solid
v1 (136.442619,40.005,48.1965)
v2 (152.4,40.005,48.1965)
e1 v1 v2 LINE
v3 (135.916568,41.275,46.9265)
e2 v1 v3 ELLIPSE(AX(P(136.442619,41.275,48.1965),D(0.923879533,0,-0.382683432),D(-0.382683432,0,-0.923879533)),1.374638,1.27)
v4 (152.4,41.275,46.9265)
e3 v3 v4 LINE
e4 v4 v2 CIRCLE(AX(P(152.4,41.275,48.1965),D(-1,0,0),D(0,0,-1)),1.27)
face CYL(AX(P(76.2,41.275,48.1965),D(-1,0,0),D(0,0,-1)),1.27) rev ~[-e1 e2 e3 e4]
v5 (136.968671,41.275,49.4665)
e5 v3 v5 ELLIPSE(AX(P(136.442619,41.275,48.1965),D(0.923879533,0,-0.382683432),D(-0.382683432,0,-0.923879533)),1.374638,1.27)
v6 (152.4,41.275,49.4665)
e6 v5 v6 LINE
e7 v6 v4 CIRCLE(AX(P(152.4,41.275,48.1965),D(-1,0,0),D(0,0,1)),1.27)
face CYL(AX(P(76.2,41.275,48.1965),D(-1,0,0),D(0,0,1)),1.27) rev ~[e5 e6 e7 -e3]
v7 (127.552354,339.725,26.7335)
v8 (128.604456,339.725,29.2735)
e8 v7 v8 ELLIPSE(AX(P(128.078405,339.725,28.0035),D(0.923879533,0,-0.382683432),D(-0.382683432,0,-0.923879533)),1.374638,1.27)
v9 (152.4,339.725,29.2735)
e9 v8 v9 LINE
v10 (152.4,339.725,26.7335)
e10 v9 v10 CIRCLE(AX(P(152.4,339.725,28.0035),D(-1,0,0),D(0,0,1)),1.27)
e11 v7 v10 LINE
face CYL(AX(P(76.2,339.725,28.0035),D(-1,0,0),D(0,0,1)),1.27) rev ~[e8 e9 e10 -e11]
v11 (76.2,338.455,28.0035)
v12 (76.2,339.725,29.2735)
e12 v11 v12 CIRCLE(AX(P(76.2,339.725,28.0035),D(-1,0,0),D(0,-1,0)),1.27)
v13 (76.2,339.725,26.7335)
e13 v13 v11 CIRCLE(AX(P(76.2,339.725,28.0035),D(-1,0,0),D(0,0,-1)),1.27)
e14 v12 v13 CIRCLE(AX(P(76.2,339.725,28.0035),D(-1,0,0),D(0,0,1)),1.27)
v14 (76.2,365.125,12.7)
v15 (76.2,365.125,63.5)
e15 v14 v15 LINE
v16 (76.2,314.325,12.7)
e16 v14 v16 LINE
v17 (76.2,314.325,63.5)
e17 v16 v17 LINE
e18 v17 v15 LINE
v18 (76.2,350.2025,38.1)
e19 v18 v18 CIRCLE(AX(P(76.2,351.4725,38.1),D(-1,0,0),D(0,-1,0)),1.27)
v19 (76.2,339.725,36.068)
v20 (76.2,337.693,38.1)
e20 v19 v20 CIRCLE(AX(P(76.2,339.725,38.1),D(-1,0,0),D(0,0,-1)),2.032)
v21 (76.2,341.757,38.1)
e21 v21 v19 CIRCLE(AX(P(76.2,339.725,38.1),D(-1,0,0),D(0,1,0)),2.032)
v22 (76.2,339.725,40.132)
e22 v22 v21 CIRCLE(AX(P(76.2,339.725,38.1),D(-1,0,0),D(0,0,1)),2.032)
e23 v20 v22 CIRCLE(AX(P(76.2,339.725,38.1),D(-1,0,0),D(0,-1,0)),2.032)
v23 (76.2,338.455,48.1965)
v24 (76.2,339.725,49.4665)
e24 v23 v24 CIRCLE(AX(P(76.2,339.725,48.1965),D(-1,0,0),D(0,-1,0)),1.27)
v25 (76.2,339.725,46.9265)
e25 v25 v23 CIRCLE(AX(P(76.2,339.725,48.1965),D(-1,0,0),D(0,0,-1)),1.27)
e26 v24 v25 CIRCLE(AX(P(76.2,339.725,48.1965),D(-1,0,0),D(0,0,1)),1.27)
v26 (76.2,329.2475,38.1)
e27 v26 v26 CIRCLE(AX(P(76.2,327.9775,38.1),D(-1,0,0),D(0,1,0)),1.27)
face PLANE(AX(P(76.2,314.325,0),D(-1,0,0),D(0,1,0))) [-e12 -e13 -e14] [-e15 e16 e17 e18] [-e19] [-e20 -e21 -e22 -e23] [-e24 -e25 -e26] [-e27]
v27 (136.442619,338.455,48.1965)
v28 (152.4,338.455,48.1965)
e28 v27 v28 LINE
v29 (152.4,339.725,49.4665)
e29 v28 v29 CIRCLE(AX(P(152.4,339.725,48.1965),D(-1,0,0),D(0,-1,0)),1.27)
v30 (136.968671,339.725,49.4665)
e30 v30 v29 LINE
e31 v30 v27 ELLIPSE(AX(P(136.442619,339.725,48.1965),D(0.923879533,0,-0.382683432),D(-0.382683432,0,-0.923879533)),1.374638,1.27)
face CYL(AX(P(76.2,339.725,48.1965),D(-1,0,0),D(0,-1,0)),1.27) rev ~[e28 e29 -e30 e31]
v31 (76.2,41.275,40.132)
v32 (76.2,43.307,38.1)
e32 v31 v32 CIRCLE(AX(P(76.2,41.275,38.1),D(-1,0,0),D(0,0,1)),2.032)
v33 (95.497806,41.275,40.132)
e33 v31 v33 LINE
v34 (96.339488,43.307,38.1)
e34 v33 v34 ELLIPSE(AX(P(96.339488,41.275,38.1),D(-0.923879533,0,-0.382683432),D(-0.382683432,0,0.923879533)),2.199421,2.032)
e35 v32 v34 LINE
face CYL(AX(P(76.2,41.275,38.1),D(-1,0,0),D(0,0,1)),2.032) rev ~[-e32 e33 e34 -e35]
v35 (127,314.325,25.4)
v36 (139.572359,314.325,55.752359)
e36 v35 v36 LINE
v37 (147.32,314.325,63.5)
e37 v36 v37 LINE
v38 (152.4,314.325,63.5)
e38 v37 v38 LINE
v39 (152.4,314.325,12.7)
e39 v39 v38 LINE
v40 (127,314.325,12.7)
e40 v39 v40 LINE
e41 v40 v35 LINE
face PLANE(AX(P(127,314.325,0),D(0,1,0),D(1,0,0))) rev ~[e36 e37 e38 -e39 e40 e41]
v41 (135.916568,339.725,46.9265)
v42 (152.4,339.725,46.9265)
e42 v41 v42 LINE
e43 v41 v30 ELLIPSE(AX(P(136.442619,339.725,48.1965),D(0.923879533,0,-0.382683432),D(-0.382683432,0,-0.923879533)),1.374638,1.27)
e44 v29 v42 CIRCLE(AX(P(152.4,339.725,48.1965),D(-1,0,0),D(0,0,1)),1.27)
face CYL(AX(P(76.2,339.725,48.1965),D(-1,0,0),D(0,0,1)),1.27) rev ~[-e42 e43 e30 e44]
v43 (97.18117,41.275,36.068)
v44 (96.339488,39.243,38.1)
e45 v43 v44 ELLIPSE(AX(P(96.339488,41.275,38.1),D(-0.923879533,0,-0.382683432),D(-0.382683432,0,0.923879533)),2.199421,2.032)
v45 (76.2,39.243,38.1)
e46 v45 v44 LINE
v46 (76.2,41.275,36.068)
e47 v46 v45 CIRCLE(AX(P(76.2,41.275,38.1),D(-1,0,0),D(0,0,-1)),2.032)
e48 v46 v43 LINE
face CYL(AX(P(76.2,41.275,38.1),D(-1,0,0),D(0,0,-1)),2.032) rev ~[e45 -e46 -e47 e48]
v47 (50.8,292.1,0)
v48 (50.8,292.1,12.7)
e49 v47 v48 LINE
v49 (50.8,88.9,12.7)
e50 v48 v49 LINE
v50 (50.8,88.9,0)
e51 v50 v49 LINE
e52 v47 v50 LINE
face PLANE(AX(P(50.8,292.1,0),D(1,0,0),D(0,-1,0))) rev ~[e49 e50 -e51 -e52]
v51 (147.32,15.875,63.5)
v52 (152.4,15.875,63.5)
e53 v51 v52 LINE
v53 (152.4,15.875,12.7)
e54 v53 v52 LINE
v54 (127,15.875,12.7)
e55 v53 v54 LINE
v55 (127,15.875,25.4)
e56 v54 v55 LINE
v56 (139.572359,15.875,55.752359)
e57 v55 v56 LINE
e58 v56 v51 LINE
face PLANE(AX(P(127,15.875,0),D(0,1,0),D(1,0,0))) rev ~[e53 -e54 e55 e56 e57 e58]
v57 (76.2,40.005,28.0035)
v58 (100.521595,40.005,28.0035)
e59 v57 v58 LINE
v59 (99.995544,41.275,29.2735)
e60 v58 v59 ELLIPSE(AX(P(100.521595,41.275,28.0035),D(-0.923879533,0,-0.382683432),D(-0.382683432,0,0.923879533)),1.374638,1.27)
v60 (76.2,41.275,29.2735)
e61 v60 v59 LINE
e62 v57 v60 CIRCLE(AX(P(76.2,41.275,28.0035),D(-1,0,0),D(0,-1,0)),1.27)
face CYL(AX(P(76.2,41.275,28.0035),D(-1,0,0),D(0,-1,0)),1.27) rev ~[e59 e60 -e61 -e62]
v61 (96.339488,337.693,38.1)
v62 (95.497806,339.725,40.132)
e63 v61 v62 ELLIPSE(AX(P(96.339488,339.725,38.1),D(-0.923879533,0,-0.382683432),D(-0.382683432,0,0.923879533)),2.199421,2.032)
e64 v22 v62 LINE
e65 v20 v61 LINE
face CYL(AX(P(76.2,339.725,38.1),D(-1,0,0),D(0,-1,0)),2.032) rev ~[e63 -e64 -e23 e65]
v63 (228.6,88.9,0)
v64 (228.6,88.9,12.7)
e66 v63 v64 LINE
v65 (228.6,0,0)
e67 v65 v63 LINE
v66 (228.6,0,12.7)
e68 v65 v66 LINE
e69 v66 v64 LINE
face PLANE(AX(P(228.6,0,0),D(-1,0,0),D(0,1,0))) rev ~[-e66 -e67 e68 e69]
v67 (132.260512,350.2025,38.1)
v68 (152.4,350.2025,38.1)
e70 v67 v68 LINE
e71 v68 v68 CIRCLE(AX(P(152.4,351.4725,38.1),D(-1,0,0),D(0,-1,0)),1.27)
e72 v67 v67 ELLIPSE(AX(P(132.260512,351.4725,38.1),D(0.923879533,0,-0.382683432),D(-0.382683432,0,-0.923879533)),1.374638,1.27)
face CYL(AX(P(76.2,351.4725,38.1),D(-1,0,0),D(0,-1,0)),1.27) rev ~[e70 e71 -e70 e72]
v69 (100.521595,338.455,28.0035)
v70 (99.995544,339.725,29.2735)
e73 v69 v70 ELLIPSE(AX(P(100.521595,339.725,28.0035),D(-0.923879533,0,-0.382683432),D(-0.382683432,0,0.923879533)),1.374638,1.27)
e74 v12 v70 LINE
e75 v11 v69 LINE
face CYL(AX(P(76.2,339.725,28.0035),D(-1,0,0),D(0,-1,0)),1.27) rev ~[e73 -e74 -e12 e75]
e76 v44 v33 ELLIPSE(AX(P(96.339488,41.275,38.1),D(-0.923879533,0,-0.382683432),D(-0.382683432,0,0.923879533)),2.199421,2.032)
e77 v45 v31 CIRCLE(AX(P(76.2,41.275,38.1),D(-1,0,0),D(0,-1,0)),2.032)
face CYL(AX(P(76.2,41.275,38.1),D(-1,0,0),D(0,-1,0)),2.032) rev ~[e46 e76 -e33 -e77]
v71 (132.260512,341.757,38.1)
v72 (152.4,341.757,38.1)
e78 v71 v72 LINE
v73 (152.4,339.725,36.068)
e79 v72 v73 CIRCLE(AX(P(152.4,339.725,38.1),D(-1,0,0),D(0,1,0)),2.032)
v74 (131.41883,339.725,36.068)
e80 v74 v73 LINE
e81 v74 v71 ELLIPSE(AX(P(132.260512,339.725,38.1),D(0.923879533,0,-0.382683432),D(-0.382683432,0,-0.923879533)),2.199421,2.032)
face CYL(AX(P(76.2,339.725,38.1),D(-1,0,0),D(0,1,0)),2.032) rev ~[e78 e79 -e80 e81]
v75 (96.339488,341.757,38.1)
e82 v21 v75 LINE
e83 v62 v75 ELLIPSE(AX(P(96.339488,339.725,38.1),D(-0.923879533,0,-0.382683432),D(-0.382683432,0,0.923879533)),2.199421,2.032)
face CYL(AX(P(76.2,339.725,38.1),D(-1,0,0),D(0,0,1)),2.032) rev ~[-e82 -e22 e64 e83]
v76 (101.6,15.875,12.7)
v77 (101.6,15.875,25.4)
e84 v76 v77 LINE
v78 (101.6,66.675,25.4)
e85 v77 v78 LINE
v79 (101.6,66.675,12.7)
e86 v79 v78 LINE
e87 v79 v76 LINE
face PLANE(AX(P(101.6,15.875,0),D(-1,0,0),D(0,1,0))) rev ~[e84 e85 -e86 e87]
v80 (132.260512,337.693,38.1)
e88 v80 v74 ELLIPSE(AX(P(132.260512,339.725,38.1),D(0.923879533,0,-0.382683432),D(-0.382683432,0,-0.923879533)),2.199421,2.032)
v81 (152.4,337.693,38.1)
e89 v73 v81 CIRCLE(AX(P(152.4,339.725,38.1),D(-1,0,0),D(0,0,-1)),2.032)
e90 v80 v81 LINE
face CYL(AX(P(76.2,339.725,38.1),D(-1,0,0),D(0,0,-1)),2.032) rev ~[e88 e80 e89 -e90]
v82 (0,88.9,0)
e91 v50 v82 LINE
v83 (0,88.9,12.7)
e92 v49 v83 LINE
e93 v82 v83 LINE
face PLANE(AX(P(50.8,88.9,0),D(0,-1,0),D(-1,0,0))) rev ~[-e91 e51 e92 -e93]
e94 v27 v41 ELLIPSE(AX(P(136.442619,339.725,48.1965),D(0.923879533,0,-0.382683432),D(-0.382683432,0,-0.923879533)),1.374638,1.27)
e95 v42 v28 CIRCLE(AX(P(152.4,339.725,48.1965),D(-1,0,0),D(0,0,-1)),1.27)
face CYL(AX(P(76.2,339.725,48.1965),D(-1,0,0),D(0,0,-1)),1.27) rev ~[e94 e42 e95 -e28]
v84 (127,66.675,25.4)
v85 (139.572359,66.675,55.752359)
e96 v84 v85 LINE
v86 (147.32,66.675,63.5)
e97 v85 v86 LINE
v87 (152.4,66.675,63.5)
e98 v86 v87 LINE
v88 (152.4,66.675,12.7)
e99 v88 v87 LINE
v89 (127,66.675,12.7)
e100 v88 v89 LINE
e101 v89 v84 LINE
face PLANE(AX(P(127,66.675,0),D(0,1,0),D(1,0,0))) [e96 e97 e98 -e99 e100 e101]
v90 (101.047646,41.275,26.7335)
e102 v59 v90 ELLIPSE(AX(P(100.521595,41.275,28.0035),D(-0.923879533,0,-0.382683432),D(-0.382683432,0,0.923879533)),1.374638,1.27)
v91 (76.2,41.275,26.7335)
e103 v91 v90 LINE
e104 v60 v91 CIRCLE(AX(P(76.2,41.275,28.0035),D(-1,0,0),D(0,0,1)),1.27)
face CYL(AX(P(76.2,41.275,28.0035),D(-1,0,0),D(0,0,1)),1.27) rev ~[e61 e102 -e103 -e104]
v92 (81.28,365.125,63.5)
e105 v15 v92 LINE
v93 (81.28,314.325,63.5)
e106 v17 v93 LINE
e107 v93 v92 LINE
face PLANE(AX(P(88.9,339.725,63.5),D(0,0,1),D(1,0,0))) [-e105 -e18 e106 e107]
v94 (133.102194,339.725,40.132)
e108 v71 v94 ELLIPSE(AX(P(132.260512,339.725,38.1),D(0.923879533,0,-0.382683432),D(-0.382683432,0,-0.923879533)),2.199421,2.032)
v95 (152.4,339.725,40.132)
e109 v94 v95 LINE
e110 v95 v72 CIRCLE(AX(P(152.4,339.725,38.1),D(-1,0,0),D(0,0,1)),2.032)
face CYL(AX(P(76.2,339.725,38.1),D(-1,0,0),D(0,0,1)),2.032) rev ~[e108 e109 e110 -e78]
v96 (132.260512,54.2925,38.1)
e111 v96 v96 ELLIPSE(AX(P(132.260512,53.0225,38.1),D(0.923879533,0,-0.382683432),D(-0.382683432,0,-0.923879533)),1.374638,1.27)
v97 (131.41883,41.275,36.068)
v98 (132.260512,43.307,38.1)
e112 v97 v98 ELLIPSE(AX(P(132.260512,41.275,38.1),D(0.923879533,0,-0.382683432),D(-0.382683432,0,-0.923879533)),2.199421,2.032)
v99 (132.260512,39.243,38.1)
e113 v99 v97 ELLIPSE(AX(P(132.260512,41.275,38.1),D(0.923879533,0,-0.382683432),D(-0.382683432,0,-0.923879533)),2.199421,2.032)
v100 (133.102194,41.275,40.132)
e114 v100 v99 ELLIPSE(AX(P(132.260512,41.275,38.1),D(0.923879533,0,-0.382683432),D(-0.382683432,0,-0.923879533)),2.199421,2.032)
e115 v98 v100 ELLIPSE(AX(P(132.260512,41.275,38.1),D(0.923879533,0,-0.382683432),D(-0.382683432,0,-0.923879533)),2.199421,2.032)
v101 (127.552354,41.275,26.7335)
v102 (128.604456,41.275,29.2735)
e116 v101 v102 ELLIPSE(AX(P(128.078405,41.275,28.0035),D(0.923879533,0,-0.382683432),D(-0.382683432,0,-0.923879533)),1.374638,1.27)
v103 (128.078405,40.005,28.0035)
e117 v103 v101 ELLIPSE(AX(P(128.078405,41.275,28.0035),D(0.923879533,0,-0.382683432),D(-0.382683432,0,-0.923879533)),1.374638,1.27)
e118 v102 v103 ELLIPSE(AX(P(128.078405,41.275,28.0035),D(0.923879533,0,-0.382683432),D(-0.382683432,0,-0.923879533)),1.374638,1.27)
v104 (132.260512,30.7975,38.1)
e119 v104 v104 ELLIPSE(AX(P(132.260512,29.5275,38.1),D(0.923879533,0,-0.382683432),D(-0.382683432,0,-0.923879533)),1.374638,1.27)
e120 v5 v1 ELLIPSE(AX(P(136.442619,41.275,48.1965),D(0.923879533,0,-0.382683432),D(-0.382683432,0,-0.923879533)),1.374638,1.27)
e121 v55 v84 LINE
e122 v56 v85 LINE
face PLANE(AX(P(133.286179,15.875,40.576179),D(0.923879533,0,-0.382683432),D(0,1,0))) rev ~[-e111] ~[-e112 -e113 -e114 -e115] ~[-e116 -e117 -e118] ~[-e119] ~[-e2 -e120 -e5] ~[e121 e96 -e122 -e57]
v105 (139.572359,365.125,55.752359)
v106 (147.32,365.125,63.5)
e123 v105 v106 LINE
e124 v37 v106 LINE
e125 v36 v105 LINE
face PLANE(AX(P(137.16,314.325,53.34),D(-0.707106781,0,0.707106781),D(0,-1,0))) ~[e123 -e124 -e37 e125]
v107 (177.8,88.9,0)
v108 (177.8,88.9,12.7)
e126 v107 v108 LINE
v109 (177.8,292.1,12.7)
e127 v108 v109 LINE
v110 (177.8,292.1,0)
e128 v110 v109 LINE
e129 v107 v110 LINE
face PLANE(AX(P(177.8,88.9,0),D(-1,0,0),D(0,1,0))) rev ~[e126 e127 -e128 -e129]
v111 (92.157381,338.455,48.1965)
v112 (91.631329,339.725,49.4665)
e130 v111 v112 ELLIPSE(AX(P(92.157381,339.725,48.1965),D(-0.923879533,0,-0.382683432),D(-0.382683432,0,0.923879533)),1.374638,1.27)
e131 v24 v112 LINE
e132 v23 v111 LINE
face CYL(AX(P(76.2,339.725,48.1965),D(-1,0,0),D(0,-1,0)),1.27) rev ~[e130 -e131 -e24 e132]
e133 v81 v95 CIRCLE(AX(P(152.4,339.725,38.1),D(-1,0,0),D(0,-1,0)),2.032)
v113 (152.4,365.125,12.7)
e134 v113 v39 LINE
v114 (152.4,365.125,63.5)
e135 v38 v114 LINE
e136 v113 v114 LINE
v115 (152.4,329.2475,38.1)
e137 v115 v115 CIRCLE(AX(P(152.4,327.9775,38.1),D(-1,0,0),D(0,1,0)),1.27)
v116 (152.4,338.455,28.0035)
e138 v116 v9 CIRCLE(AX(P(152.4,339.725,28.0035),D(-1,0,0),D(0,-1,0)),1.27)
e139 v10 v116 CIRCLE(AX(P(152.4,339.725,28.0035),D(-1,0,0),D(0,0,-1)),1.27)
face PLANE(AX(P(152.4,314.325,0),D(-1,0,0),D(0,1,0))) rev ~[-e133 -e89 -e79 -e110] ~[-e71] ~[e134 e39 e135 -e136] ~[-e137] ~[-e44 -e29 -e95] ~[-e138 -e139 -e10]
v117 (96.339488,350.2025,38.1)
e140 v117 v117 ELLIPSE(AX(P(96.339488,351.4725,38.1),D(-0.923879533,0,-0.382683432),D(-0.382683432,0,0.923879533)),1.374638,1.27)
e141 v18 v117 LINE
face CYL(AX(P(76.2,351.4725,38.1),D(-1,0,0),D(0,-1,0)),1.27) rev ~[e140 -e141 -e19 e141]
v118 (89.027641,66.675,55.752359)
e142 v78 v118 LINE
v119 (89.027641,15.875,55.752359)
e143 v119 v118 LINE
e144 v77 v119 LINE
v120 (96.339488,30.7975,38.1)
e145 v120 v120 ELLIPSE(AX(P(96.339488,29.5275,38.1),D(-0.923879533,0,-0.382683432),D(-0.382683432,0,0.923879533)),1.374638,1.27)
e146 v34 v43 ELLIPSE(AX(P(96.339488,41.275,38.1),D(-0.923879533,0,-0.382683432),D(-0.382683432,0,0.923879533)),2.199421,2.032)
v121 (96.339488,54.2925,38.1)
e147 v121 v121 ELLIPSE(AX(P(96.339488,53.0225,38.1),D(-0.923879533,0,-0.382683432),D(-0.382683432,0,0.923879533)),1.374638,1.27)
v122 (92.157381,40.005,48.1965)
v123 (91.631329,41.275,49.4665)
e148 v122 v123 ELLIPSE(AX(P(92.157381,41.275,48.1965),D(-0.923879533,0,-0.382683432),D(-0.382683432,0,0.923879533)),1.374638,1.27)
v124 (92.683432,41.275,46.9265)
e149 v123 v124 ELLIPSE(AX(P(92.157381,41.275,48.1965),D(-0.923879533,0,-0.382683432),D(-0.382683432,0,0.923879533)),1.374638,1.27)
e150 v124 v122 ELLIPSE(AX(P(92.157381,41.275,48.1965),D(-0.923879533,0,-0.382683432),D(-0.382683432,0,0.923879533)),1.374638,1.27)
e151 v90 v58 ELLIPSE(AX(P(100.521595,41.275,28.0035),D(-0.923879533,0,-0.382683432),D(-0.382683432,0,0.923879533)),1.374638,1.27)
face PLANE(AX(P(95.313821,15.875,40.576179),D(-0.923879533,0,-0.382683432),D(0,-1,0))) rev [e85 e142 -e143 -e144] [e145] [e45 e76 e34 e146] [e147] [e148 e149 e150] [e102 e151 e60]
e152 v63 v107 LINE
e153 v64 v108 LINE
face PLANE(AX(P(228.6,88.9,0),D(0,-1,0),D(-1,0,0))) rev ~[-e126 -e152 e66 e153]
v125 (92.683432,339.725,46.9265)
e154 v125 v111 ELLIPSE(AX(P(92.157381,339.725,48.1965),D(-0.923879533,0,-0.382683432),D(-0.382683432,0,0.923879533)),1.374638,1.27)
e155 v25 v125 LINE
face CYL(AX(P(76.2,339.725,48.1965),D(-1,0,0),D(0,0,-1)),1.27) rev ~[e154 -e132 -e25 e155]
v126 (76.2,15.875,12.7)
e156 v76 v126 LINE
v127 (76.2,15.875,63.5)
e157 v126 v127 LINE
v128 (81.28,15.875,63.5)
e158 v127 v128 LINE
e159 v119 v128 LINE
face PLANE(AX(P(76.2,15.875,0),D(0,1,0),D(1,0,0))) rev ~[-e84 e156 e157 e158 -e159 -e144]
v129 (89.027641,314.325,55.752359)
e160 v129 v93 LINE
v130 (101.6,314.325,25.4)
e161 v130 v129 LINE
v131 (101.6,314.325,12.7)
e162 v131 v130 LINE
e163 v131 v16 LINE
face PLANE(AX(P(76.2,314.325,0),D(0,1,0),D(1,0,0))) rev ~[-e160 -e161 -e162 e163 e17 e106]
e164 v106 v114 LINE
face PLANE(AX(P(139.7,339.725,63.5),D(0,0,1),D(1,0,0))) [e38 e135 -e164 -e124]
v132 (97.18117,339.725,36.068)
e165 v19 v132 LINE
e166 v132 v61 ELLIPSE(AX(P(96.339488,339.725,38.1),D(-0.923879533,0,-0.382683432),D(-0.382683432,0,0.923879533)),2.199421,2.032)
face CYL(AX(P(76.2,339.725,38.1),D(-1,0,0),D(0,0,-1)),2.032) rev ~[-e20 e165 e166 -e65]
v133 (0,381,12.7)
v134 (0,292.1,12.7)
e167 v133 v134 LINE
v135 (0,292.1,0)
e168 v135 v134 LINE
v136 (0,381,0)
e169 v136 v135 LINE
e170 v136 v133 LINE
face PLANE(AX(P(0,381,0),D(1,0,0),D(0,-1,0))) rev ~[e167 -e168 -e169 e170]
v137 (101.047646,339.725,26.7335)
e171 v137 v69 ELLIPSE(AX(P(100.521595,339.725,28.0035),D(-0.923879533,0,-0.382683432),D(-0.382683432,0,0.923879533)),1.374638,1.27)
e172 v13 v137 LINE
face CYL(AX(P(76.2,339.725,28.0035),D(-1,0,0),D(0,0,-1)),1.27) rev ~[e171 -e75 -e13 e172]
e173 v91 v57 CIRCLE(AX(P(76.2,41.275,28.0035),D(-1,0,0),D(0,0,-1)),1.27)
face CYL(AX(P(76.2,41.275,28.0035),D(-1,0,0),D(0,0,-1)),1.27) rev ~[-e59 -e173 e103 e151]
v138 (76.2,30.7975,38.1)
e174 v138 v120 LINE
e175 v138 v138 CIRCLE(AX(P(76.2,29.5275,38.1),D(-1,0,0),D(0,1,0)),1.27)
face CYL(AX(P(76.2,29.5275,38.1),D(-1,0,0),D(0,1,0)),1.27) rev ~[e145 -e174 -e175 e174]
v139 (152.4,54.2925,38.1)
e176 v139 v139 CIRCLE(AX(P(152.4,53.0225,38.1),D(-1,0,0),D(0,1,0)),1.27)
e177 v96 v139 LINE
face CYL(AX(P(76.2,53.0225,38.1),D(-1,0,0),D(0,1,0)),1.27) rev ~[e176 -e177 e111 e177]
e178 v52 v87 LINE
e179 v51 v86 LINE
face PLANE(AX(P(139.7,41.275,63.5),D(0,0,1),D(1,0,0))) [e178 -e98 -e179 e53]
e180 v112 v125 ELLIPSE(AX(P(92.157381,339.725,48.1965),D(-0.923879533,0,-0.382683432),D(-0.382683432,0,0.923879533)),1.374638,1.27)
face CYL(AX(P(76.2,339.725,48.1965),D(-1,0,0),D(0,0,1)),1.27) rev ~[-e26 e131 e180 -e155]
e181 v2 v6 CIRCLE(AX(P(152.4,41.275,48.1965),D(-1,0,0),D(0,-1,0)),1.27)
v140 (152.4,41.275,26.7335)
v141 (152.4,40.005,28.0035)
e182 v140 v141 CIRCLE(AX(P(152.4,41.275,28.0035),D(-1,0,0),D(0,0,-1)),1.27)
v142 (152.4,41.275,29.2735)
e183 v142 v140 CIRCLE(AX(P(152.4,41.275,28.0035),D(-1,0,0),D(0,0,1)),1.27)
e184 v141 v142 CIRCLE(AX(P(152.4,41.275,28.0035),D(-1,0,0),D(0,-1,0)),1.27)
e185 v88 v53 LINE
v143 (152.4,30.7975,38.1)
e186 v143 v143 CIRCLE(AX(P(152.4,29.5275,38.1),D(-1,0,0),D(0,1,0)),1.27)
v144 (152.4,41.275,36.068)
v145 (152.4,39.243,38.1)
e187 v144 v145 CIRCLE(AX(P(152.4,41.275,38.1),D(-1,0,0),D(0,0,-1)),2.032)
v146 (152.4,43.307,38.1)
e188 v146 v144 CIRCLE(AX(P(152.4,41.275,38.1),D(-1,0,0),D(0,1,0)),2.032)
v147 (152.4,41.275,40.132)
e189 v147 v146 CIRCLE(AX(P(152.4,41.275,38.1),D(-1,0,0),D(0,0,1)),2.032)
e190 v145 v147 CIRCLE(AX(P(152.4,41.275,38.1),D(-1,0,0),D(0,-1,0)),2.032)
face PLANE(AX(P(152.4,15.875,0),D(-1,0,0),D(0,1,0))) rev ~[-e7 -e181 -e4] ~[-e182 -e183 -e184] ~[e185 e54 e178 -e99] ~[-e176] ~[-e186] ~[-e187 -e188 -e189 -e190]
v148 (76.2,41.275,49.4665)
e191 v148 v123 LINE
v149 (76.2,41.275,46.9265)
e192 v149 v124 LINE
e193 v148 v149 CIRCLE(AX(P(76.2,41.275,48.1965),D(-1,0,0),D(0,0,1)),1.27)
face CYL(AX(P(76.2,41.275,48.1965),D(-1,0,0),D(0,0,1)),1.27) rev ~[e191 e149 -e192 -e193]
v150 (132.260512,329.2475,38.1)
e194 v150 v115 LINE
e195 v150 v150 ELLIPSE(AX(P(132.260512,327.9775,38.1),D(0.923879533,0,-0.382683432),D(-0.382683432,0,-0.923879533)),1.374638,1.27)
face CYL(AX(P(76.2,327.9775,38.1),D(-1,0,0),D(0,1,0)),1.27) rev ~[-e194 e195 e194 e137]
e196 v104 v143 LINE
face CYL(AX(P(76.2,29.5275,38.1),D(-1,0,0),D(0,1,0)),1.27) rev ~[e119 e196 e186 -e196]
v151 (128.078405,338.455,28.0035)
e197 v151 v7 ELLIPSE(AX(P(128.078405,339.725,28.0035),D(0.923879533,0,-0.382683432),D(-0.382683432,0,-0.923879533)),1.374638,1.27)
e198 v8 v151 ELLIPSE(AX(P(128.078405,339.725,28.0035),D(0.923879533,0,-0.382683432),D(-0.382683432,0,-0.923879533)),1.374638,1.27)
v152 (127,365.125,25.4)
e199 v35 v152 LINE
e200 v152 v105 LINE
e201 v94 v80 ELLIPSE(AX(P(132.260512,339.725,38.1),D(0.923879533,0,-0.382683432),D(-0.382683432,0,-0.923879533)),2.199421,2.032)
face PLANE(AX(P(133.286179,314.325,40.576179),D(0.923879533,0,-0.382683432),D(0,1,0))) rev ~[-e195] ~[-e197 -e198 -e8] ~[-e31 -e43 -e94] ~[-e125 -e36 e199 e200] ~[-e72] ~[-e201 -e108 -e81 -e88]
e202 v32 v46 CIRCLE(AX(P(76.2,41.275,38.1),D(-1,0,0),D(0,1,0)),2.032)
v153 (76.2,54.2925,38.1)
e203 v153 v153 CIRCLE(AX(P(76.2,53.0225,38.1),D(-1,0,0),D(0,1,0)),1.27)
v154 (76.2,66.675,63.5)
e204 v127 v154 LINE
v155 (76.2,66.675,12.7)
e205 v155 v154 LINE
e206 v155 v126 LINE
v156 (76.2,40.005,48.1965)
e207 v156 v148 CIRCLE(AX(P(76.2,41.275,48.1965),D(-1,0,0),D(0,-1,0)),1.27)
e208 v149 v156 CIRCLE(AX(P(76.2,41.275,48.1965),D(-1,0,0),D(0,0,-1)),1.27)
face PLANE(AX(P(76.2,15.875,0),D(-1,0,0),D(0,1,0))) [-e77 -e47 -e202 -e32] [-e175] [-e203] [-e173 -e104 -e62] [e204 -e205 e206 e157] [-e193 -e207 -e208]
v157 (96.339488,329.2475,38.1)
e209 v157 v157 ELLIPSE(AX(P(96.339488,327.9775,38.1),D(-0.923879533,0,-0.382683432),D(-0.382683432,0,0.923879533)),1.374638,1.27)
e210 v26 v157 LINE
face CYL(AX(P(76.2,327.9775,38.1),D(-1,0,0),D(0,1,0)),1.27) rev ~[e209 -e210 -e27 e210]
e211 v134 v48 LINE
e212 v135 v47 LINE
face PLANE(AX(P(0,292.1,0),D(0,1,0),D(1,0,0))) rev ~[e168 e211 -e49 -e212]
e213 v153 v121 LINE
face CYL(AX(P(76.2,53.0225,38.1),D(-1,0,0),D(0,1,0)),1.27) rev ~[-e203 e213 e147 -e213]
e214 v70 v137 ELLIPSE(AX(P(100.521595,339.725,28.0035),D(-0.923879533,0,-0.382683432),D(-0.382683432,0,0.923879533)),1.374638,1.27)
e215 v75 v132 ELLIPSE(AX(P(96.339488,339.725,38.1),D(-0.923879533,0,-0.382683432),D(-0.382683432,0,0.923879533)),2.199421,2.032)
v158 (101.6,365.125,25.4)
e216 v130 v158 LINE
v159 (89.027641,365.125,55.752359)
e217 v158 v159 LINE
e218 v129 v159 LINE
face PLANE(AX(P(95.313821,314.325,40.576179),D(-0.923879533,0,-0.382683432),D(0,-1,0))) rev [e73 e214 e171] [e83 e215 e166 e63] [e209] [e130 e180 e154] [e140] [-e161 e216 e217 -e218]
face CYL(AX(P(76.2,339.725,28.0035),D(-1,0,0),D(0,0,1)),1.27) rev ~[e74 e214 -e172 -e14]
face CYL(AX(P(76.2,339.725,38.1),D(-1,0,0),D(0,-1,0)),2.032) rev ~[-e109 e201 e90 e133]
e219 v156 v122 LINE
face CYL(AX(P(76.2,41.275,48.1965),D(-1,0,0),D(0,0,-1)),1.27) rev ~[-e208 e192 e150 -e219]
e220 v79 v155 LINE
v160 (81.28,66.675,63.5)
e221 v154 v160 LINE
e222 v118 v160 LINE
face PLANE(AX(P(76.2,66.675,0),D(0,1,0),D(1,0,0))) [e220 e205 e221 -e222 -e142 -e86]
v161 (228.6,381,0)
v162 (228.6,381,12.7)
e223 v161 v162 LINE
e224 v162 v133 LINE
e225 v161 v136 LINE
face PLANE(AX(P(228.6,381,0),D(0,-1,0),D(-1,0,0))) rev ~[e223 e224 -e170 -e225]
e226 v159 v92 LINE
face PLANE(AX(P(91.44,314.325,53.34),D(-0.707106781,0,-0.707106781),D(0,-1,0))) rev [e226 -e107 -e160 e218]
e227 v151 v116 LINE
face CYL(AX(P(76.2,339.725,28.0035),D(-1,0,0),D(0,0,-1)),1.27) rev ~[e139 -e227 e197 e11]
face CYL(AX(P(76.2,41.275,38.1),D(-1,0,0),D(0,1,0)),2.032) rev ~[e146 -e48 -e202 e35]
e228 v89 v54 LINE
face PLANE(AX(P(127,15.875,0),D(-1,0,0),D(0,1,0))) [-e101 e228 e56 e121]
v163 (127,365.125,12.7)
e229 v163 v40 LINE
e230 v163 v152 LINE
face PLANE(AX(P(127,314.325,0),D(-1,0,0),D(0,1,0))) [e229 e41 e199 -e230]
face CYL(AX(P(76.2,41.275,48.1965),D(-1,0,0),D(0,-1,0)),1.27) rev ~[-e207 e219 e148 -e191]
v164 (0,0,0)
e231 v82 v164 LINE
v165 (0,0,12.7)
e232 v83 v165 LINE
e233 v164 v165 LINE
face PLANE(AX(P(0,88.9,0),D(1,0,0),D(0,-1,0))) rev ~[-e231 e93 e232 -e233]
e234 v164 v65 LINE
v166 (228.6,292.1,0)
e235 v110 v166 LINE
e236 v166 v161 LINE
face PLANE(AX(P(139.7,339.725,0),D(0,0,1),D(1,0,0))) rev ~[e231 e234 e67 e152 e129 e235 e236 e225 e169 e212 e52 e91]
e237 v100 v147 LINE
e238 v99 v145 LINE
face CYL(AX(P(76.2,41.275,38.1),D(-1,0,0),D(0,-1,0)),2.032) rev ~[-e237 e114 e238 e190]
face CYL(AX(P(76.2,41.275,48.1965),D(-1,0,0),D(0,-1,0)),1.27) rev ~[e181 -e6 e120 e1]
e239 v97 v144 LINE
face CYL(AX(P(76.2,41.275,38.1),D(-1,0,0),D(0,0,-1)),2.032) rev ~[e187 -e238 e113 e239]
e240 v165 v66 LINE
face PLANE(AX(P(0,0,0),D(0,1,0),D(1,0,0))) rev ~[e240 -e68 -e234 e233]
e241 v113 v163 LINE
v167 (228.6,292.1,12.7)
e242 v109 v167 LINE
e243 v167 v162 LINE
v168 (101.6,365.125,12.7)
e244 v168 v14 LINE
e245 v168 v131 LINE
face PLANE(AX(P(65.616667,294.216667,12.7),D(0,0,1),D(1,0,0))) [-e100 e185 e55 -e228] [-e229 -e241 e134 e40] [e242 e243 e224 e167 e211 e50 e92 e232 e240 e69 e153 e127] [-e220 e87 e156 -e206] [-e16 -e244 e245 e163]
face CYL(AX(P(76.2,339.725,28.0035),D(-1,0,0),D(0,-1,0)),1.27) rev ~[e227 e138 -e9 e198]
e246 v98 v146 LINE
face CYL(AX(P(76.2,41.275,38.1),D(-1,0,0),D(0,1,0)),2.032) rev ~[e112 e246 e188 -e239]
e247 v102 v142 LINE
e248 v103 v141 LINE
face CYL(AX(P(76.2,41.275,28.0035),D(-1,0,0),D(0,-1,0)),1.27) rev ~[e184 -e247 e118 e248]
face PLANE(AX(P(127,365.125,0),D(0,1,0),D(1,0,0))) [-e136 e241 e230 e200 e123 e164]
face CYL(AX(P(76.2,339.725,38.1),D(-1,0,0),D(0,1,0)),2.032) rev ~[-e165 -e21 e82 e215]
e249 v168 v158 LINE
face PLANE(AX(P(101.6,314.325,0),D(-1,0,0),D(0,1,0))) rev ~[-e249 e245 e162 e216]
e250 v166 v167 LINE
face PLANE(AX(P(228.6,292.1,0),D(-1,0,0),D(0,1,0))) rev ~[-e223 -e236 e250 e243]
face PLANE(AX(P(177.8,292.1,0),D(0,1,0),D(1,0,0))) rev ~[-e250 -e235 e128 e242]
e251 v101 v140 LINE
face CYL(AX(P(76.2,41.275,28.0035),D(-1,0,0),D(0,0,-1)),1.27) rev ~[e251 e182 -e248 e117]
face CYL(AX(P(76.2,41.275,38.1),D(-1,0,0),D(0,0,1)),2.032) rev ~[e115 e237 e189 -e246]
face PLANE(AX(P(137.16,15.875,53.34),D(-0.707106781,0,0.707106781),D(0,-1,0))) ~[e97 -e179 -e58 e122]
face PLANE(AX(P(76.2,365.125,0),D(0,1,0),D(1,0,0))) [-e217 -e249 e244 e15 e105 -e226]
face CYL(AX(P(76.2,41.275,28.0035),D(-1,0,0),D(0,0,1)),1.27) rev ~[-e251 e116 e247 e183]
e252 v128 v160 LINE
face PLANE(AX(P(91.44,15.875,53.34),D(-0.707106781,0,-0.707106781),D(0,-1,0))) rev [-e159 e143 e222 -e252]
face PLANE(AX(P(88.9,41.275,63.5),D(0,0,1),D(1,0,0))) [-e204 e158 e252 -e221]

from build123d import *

# Parameters (mm, degrees)
F1_DEPTH = 12.7
F2_W     = 25.4
F2_H     = 50.8
F3_DEPTH = 63.5
F4_SIZE  = 20.32
F5_SIZE  = 17.78
F7_DEPTH = 254
F9_DEPTH = 254


with BuildPart() as f1:
    # F0 (on Top) → F1 (new body)
    with BuildSketch(Plane.XY):
        Polygon((50.8, 190.5), (114.3, 190.5), (114.3, 381), (0, 381), (0, 292.1), (50.8, 292.1), align=None)
        Polygon((114.3, 381), (114.3, 190.5), (177.8, 190.5), (177.8, 292.1), (228.6, 292.1), (228.6, 381), align=None)
        Polygon((0, 88.9), (0, 0), (114.3, 0), (114.3, 190.5), (50.8, 190.5), (50.8, 88.9), align=None)
        Polygon((114.3, 190.5), (114.3, 0), (228.6, 0), (228.6, 88.9), (177.8, 88.9), (177.8, 190.5), align=None)
    extrude(amount=F1_DEPTH)

    # F2 (on Top) → F3 (join)
    with BuildSketch(Plane.XY):
        with Locations((139.7, 339.725)):
            Rectangle(F2_W, F2_H)
        with Locations((88.9, 339.725)):
            Rectangle(F2_W, F2_H)
        with Locations((139.7, 41.275)):
            Rectangle(F2_W, F2_H)
        with Locations((88.9, 41.275)):
            Rectangle(F2_W, F2_H)
    extrude(amount=F3_DEPTH)

    # F4
    f4_edges = [f1.edges().sort_by_distance(p)[0] for p in [
        (101.6, 41.275, 63.5),
        (127, 41.275, 63.5),
        (127, 339.725, 63.5),
        (101.6, 339.725, 63.5),
    ]]
    chamfer(f4_edges, length=F4_SIZE)

    # F5
    f5_edges = [f1.edges().sort_by_distance(p)[0] for p in [
        (127, 339.725, 43.18),
        (101.6, 339.725, 43.18),
        (127, 41.275, 43.18),
        (101.6, 41.275, 43.18),
    ]]
    chamfer(f5_edges, length=F5_SIZE)

    # F6 (on face) → F7 (cut)
    with BuildSketch(Plane(origin=(76.2, 0, 0), x_dir=(0, -1, 0), z_dir=(-1, 0, 0))):
        with BuildLine():
            ThreePointArc((-40.005, 48.1965), (-40.3769743879, 49.0945256121), (-41.275, 49.4665))
            Line((-41.275, 49.4665), (-41.275, 46.9265))
            ThreePointArc((-41.275, 46.9265), (-40.3769743879, 47.2984743879), (-40.005, 48.1965))
        make_face()
        with BuildLine():
            Line((-41.275, 46.9265), (-41.275, 49.4665))
            ThreePointArc((-41.275, 49.4665), (-42.545, 48.1965), (-41.275, 46.9265))
        make_face()
        with BuildLine():
            ThreePointArc((-51.7525, 38.1), (-53.0225, 39.37), (-54.2925, 38.1))
            Line((-54.2925, 38.1), (-51.7525, 38.1))
        make_face()
        with BuildLine():
            Line((-51.7525, 38.1), (-54.2925, 38.1))
            ThreePointArc((-54.2925, 38.1), (-53.0225, 36.83), (-51.7525, 38.1))
        make_face()
        with BuildLine():
            ThreePointArc((-39.243, 38.1), (-39.8381590206, 39.5368409794), (-41.275, 40.132))
            Line((-41.275, 40.132), (-41.275, 38.1))
            Line((-41.275, 38.1), (-39.243, 38.1))
        make_face()
        with BuildLine():
            Line((-41.275, 38.1), (-41.275, 40.132))
            ThreePointArc((-41.275, 40.132), (-42.7118409794, 39.5368409794), (-43.307, 38.1))
            Line((-43.307, 38.1), (-41.275, 38.1))
        make_face()
        with BuildLine():
            Line((-41.275, 38.1), (-43.307, 38.1))
            ThreePointArc((-43.307, 38.1), (-42.7118409794, 36.6631590206), (-41.275, 36.068))
            Line((-41.275, 36.068), (-41.275, 38.1))
        make_face()
        with BuildLine():
            ThreePointArc((-41.275, 29.2735), (-42.545, 28.0035), (-41.275, 26.7335))
            Line((-41.275, 26.7335), (-41.275, 29.2735))
        make_face()
        with BuildLine():
            Line((-41.275, 29.2735), (-41.275, 26.7335))
            ThreePointArc((-41.275, 26.7335), (-40.3769743879, 27.1054743879), (-40.005, 28.0035))
            ThreePointArc((-40.005, 28.0035), (-40.3769743879, 28.9015256121), (-41.275, 29.2735))
        make_face()
        with BuildLine():
            Line((-30.7975, 38.1), (-28.2575, 38.1))
            ThreePointArc((-28.2575, 38.1), (-29.5275, 39.37), (-30.7975, 38.1))
        make_face()
        with BuildLine():
            ThreePointArc((-30.7975, 38.1), (-29.5275, 36.83), (-28.2575, 38.1))
            Line((-28.2575, 38.1), (-30.7975, 38.1))
        make_face()
        with BuildLine():
            ThreePointArc((-41.275, 36.068), (-39.8381590206, 36.6631590206), (-39.243, 38.1))
            Line((-39.243, 38.1), (-41.275, 38.1))
            Line((-41.275, 38.1), (-41.275, 36.068))
        make_face()
    extrude(amount=-F7_DEPTH, mode=Mode.SUBTRACT)

    # F8 (on face) → F9 (cut)
    with BuildSketch(Plane(origin=(76.2, 0, 0), x_dir=(0, -1, 0), z_dir=(-1, 0, 0))):
        with BuildLine():
            ThreePointArc((-338.455, 48.1965), (-338.8269743879, 49.0945256121), (-339.725, 49.4665))
            Line((-339.725, 49.4665), (-339.725, 46.9265))
            ThreePointArc((-339.725, 46.9265), (-338.8269743879, 47.2984743879), (-338.455, 48.1965))
        make_face()
        with BuildLine():
            Line((-339.725, 46.9265), (-339.725, 49.4665))
            ThreePointArc((-339.725, 49.4665), (-340.995, 48.1965), (-339.725, 46.9265))
        make_face()
        with BuildLine():
            Line((-350.2025, 38.1), (-352.7425, 38.1))
            ThreePointArc((-352.7425, 38.1), (-351.4725, 36.83), (-350.2025, 38.1))
        make_face()
        with BuildLine():
            ThreePointArc((-350.2025, 38.1), (-351.4725, 39.37), (-352.7425, 38.1))
            Line((-352.7425, 38.1), (-350.2025, 38.1))
        make_face()
        with BuildLine():
            Line((-339.725, 38.1), (-339.725, 40.132))
            ThreePointArc((-339.725, 40.132), (-341.1618409794, 39.5368409794), (-341.757, 38.1))
            Line((-341.757, 38.1), (-339.725, 38.1))
        make_face()
        with BuildLine():
            ThreePointArc((-339.725, 36.068), (-338.2881590206, 36.6631590206), (-337.693, 38.1))
            Line((-337.693, 38.1), (-339.725, 38.1))
            Line((-339.725, 38.1), (-339.725, 36.068))
        make_face()
        with BuildLine():
            ThreePointArc((-337.693, 38.1), (-338.2881590206, 39.5368409794), (-339.725, 40.132))
            Line((-339.725, 40.132), (-339.725, 38.1))
            Line((-339.725, 38.1), (-337.693, 38.1))
        make_face()
        with BuildLine():
            Line((-339.725, 38.1), (-341.757, 38.1))
            ThreePointArc((-341.757, 38.1), (-341.1618409794, 36.6631590206), (-339.725, 36.068))
            Line((-339.725, 36.068), (-339.725, 38.1))
        make_face()
        with BuildLine():
            Line((-329.2475, 38.1), (-326.7075, 38.1))
            ThreePointArc((-326.7075, 38.1), (-327.9775, 39.37), (-329.2475, 38.1))
        make_face()
        with BuildLine():
            ThreePointArc((-329.2475, 38.1), (-327.9775, 36.83), (-326.7075, 38.1))
            Line((-326.7075, 38.1), (-329.2475, 38.1))
        make_face()
        with BuildLine():
            Line((-339.725, 29.2735), (-339.725, 26.7335))
            ThreePointArc((-339.725, 26.7335), (-338.8269743879, 27.1054743879), (-338.455, 28.0035))
            ThreePointArc((-338.455, 28.0035), (-338.8269743879, 28.9015256121), (-339.725, 29.2735))
        make_face()
        with BuildLine():
            ThreePointArc((-339.725, 29.2735), (-340.995, 28.0035), (-339.725, 26.7335))
            Line((-339.725, 26.7335), (-339.725, 29.2735))
        make_face()
    extrude(amount=-F9_DEPTH, mode=Mode.SUBTRACT)


solid = f1.part
